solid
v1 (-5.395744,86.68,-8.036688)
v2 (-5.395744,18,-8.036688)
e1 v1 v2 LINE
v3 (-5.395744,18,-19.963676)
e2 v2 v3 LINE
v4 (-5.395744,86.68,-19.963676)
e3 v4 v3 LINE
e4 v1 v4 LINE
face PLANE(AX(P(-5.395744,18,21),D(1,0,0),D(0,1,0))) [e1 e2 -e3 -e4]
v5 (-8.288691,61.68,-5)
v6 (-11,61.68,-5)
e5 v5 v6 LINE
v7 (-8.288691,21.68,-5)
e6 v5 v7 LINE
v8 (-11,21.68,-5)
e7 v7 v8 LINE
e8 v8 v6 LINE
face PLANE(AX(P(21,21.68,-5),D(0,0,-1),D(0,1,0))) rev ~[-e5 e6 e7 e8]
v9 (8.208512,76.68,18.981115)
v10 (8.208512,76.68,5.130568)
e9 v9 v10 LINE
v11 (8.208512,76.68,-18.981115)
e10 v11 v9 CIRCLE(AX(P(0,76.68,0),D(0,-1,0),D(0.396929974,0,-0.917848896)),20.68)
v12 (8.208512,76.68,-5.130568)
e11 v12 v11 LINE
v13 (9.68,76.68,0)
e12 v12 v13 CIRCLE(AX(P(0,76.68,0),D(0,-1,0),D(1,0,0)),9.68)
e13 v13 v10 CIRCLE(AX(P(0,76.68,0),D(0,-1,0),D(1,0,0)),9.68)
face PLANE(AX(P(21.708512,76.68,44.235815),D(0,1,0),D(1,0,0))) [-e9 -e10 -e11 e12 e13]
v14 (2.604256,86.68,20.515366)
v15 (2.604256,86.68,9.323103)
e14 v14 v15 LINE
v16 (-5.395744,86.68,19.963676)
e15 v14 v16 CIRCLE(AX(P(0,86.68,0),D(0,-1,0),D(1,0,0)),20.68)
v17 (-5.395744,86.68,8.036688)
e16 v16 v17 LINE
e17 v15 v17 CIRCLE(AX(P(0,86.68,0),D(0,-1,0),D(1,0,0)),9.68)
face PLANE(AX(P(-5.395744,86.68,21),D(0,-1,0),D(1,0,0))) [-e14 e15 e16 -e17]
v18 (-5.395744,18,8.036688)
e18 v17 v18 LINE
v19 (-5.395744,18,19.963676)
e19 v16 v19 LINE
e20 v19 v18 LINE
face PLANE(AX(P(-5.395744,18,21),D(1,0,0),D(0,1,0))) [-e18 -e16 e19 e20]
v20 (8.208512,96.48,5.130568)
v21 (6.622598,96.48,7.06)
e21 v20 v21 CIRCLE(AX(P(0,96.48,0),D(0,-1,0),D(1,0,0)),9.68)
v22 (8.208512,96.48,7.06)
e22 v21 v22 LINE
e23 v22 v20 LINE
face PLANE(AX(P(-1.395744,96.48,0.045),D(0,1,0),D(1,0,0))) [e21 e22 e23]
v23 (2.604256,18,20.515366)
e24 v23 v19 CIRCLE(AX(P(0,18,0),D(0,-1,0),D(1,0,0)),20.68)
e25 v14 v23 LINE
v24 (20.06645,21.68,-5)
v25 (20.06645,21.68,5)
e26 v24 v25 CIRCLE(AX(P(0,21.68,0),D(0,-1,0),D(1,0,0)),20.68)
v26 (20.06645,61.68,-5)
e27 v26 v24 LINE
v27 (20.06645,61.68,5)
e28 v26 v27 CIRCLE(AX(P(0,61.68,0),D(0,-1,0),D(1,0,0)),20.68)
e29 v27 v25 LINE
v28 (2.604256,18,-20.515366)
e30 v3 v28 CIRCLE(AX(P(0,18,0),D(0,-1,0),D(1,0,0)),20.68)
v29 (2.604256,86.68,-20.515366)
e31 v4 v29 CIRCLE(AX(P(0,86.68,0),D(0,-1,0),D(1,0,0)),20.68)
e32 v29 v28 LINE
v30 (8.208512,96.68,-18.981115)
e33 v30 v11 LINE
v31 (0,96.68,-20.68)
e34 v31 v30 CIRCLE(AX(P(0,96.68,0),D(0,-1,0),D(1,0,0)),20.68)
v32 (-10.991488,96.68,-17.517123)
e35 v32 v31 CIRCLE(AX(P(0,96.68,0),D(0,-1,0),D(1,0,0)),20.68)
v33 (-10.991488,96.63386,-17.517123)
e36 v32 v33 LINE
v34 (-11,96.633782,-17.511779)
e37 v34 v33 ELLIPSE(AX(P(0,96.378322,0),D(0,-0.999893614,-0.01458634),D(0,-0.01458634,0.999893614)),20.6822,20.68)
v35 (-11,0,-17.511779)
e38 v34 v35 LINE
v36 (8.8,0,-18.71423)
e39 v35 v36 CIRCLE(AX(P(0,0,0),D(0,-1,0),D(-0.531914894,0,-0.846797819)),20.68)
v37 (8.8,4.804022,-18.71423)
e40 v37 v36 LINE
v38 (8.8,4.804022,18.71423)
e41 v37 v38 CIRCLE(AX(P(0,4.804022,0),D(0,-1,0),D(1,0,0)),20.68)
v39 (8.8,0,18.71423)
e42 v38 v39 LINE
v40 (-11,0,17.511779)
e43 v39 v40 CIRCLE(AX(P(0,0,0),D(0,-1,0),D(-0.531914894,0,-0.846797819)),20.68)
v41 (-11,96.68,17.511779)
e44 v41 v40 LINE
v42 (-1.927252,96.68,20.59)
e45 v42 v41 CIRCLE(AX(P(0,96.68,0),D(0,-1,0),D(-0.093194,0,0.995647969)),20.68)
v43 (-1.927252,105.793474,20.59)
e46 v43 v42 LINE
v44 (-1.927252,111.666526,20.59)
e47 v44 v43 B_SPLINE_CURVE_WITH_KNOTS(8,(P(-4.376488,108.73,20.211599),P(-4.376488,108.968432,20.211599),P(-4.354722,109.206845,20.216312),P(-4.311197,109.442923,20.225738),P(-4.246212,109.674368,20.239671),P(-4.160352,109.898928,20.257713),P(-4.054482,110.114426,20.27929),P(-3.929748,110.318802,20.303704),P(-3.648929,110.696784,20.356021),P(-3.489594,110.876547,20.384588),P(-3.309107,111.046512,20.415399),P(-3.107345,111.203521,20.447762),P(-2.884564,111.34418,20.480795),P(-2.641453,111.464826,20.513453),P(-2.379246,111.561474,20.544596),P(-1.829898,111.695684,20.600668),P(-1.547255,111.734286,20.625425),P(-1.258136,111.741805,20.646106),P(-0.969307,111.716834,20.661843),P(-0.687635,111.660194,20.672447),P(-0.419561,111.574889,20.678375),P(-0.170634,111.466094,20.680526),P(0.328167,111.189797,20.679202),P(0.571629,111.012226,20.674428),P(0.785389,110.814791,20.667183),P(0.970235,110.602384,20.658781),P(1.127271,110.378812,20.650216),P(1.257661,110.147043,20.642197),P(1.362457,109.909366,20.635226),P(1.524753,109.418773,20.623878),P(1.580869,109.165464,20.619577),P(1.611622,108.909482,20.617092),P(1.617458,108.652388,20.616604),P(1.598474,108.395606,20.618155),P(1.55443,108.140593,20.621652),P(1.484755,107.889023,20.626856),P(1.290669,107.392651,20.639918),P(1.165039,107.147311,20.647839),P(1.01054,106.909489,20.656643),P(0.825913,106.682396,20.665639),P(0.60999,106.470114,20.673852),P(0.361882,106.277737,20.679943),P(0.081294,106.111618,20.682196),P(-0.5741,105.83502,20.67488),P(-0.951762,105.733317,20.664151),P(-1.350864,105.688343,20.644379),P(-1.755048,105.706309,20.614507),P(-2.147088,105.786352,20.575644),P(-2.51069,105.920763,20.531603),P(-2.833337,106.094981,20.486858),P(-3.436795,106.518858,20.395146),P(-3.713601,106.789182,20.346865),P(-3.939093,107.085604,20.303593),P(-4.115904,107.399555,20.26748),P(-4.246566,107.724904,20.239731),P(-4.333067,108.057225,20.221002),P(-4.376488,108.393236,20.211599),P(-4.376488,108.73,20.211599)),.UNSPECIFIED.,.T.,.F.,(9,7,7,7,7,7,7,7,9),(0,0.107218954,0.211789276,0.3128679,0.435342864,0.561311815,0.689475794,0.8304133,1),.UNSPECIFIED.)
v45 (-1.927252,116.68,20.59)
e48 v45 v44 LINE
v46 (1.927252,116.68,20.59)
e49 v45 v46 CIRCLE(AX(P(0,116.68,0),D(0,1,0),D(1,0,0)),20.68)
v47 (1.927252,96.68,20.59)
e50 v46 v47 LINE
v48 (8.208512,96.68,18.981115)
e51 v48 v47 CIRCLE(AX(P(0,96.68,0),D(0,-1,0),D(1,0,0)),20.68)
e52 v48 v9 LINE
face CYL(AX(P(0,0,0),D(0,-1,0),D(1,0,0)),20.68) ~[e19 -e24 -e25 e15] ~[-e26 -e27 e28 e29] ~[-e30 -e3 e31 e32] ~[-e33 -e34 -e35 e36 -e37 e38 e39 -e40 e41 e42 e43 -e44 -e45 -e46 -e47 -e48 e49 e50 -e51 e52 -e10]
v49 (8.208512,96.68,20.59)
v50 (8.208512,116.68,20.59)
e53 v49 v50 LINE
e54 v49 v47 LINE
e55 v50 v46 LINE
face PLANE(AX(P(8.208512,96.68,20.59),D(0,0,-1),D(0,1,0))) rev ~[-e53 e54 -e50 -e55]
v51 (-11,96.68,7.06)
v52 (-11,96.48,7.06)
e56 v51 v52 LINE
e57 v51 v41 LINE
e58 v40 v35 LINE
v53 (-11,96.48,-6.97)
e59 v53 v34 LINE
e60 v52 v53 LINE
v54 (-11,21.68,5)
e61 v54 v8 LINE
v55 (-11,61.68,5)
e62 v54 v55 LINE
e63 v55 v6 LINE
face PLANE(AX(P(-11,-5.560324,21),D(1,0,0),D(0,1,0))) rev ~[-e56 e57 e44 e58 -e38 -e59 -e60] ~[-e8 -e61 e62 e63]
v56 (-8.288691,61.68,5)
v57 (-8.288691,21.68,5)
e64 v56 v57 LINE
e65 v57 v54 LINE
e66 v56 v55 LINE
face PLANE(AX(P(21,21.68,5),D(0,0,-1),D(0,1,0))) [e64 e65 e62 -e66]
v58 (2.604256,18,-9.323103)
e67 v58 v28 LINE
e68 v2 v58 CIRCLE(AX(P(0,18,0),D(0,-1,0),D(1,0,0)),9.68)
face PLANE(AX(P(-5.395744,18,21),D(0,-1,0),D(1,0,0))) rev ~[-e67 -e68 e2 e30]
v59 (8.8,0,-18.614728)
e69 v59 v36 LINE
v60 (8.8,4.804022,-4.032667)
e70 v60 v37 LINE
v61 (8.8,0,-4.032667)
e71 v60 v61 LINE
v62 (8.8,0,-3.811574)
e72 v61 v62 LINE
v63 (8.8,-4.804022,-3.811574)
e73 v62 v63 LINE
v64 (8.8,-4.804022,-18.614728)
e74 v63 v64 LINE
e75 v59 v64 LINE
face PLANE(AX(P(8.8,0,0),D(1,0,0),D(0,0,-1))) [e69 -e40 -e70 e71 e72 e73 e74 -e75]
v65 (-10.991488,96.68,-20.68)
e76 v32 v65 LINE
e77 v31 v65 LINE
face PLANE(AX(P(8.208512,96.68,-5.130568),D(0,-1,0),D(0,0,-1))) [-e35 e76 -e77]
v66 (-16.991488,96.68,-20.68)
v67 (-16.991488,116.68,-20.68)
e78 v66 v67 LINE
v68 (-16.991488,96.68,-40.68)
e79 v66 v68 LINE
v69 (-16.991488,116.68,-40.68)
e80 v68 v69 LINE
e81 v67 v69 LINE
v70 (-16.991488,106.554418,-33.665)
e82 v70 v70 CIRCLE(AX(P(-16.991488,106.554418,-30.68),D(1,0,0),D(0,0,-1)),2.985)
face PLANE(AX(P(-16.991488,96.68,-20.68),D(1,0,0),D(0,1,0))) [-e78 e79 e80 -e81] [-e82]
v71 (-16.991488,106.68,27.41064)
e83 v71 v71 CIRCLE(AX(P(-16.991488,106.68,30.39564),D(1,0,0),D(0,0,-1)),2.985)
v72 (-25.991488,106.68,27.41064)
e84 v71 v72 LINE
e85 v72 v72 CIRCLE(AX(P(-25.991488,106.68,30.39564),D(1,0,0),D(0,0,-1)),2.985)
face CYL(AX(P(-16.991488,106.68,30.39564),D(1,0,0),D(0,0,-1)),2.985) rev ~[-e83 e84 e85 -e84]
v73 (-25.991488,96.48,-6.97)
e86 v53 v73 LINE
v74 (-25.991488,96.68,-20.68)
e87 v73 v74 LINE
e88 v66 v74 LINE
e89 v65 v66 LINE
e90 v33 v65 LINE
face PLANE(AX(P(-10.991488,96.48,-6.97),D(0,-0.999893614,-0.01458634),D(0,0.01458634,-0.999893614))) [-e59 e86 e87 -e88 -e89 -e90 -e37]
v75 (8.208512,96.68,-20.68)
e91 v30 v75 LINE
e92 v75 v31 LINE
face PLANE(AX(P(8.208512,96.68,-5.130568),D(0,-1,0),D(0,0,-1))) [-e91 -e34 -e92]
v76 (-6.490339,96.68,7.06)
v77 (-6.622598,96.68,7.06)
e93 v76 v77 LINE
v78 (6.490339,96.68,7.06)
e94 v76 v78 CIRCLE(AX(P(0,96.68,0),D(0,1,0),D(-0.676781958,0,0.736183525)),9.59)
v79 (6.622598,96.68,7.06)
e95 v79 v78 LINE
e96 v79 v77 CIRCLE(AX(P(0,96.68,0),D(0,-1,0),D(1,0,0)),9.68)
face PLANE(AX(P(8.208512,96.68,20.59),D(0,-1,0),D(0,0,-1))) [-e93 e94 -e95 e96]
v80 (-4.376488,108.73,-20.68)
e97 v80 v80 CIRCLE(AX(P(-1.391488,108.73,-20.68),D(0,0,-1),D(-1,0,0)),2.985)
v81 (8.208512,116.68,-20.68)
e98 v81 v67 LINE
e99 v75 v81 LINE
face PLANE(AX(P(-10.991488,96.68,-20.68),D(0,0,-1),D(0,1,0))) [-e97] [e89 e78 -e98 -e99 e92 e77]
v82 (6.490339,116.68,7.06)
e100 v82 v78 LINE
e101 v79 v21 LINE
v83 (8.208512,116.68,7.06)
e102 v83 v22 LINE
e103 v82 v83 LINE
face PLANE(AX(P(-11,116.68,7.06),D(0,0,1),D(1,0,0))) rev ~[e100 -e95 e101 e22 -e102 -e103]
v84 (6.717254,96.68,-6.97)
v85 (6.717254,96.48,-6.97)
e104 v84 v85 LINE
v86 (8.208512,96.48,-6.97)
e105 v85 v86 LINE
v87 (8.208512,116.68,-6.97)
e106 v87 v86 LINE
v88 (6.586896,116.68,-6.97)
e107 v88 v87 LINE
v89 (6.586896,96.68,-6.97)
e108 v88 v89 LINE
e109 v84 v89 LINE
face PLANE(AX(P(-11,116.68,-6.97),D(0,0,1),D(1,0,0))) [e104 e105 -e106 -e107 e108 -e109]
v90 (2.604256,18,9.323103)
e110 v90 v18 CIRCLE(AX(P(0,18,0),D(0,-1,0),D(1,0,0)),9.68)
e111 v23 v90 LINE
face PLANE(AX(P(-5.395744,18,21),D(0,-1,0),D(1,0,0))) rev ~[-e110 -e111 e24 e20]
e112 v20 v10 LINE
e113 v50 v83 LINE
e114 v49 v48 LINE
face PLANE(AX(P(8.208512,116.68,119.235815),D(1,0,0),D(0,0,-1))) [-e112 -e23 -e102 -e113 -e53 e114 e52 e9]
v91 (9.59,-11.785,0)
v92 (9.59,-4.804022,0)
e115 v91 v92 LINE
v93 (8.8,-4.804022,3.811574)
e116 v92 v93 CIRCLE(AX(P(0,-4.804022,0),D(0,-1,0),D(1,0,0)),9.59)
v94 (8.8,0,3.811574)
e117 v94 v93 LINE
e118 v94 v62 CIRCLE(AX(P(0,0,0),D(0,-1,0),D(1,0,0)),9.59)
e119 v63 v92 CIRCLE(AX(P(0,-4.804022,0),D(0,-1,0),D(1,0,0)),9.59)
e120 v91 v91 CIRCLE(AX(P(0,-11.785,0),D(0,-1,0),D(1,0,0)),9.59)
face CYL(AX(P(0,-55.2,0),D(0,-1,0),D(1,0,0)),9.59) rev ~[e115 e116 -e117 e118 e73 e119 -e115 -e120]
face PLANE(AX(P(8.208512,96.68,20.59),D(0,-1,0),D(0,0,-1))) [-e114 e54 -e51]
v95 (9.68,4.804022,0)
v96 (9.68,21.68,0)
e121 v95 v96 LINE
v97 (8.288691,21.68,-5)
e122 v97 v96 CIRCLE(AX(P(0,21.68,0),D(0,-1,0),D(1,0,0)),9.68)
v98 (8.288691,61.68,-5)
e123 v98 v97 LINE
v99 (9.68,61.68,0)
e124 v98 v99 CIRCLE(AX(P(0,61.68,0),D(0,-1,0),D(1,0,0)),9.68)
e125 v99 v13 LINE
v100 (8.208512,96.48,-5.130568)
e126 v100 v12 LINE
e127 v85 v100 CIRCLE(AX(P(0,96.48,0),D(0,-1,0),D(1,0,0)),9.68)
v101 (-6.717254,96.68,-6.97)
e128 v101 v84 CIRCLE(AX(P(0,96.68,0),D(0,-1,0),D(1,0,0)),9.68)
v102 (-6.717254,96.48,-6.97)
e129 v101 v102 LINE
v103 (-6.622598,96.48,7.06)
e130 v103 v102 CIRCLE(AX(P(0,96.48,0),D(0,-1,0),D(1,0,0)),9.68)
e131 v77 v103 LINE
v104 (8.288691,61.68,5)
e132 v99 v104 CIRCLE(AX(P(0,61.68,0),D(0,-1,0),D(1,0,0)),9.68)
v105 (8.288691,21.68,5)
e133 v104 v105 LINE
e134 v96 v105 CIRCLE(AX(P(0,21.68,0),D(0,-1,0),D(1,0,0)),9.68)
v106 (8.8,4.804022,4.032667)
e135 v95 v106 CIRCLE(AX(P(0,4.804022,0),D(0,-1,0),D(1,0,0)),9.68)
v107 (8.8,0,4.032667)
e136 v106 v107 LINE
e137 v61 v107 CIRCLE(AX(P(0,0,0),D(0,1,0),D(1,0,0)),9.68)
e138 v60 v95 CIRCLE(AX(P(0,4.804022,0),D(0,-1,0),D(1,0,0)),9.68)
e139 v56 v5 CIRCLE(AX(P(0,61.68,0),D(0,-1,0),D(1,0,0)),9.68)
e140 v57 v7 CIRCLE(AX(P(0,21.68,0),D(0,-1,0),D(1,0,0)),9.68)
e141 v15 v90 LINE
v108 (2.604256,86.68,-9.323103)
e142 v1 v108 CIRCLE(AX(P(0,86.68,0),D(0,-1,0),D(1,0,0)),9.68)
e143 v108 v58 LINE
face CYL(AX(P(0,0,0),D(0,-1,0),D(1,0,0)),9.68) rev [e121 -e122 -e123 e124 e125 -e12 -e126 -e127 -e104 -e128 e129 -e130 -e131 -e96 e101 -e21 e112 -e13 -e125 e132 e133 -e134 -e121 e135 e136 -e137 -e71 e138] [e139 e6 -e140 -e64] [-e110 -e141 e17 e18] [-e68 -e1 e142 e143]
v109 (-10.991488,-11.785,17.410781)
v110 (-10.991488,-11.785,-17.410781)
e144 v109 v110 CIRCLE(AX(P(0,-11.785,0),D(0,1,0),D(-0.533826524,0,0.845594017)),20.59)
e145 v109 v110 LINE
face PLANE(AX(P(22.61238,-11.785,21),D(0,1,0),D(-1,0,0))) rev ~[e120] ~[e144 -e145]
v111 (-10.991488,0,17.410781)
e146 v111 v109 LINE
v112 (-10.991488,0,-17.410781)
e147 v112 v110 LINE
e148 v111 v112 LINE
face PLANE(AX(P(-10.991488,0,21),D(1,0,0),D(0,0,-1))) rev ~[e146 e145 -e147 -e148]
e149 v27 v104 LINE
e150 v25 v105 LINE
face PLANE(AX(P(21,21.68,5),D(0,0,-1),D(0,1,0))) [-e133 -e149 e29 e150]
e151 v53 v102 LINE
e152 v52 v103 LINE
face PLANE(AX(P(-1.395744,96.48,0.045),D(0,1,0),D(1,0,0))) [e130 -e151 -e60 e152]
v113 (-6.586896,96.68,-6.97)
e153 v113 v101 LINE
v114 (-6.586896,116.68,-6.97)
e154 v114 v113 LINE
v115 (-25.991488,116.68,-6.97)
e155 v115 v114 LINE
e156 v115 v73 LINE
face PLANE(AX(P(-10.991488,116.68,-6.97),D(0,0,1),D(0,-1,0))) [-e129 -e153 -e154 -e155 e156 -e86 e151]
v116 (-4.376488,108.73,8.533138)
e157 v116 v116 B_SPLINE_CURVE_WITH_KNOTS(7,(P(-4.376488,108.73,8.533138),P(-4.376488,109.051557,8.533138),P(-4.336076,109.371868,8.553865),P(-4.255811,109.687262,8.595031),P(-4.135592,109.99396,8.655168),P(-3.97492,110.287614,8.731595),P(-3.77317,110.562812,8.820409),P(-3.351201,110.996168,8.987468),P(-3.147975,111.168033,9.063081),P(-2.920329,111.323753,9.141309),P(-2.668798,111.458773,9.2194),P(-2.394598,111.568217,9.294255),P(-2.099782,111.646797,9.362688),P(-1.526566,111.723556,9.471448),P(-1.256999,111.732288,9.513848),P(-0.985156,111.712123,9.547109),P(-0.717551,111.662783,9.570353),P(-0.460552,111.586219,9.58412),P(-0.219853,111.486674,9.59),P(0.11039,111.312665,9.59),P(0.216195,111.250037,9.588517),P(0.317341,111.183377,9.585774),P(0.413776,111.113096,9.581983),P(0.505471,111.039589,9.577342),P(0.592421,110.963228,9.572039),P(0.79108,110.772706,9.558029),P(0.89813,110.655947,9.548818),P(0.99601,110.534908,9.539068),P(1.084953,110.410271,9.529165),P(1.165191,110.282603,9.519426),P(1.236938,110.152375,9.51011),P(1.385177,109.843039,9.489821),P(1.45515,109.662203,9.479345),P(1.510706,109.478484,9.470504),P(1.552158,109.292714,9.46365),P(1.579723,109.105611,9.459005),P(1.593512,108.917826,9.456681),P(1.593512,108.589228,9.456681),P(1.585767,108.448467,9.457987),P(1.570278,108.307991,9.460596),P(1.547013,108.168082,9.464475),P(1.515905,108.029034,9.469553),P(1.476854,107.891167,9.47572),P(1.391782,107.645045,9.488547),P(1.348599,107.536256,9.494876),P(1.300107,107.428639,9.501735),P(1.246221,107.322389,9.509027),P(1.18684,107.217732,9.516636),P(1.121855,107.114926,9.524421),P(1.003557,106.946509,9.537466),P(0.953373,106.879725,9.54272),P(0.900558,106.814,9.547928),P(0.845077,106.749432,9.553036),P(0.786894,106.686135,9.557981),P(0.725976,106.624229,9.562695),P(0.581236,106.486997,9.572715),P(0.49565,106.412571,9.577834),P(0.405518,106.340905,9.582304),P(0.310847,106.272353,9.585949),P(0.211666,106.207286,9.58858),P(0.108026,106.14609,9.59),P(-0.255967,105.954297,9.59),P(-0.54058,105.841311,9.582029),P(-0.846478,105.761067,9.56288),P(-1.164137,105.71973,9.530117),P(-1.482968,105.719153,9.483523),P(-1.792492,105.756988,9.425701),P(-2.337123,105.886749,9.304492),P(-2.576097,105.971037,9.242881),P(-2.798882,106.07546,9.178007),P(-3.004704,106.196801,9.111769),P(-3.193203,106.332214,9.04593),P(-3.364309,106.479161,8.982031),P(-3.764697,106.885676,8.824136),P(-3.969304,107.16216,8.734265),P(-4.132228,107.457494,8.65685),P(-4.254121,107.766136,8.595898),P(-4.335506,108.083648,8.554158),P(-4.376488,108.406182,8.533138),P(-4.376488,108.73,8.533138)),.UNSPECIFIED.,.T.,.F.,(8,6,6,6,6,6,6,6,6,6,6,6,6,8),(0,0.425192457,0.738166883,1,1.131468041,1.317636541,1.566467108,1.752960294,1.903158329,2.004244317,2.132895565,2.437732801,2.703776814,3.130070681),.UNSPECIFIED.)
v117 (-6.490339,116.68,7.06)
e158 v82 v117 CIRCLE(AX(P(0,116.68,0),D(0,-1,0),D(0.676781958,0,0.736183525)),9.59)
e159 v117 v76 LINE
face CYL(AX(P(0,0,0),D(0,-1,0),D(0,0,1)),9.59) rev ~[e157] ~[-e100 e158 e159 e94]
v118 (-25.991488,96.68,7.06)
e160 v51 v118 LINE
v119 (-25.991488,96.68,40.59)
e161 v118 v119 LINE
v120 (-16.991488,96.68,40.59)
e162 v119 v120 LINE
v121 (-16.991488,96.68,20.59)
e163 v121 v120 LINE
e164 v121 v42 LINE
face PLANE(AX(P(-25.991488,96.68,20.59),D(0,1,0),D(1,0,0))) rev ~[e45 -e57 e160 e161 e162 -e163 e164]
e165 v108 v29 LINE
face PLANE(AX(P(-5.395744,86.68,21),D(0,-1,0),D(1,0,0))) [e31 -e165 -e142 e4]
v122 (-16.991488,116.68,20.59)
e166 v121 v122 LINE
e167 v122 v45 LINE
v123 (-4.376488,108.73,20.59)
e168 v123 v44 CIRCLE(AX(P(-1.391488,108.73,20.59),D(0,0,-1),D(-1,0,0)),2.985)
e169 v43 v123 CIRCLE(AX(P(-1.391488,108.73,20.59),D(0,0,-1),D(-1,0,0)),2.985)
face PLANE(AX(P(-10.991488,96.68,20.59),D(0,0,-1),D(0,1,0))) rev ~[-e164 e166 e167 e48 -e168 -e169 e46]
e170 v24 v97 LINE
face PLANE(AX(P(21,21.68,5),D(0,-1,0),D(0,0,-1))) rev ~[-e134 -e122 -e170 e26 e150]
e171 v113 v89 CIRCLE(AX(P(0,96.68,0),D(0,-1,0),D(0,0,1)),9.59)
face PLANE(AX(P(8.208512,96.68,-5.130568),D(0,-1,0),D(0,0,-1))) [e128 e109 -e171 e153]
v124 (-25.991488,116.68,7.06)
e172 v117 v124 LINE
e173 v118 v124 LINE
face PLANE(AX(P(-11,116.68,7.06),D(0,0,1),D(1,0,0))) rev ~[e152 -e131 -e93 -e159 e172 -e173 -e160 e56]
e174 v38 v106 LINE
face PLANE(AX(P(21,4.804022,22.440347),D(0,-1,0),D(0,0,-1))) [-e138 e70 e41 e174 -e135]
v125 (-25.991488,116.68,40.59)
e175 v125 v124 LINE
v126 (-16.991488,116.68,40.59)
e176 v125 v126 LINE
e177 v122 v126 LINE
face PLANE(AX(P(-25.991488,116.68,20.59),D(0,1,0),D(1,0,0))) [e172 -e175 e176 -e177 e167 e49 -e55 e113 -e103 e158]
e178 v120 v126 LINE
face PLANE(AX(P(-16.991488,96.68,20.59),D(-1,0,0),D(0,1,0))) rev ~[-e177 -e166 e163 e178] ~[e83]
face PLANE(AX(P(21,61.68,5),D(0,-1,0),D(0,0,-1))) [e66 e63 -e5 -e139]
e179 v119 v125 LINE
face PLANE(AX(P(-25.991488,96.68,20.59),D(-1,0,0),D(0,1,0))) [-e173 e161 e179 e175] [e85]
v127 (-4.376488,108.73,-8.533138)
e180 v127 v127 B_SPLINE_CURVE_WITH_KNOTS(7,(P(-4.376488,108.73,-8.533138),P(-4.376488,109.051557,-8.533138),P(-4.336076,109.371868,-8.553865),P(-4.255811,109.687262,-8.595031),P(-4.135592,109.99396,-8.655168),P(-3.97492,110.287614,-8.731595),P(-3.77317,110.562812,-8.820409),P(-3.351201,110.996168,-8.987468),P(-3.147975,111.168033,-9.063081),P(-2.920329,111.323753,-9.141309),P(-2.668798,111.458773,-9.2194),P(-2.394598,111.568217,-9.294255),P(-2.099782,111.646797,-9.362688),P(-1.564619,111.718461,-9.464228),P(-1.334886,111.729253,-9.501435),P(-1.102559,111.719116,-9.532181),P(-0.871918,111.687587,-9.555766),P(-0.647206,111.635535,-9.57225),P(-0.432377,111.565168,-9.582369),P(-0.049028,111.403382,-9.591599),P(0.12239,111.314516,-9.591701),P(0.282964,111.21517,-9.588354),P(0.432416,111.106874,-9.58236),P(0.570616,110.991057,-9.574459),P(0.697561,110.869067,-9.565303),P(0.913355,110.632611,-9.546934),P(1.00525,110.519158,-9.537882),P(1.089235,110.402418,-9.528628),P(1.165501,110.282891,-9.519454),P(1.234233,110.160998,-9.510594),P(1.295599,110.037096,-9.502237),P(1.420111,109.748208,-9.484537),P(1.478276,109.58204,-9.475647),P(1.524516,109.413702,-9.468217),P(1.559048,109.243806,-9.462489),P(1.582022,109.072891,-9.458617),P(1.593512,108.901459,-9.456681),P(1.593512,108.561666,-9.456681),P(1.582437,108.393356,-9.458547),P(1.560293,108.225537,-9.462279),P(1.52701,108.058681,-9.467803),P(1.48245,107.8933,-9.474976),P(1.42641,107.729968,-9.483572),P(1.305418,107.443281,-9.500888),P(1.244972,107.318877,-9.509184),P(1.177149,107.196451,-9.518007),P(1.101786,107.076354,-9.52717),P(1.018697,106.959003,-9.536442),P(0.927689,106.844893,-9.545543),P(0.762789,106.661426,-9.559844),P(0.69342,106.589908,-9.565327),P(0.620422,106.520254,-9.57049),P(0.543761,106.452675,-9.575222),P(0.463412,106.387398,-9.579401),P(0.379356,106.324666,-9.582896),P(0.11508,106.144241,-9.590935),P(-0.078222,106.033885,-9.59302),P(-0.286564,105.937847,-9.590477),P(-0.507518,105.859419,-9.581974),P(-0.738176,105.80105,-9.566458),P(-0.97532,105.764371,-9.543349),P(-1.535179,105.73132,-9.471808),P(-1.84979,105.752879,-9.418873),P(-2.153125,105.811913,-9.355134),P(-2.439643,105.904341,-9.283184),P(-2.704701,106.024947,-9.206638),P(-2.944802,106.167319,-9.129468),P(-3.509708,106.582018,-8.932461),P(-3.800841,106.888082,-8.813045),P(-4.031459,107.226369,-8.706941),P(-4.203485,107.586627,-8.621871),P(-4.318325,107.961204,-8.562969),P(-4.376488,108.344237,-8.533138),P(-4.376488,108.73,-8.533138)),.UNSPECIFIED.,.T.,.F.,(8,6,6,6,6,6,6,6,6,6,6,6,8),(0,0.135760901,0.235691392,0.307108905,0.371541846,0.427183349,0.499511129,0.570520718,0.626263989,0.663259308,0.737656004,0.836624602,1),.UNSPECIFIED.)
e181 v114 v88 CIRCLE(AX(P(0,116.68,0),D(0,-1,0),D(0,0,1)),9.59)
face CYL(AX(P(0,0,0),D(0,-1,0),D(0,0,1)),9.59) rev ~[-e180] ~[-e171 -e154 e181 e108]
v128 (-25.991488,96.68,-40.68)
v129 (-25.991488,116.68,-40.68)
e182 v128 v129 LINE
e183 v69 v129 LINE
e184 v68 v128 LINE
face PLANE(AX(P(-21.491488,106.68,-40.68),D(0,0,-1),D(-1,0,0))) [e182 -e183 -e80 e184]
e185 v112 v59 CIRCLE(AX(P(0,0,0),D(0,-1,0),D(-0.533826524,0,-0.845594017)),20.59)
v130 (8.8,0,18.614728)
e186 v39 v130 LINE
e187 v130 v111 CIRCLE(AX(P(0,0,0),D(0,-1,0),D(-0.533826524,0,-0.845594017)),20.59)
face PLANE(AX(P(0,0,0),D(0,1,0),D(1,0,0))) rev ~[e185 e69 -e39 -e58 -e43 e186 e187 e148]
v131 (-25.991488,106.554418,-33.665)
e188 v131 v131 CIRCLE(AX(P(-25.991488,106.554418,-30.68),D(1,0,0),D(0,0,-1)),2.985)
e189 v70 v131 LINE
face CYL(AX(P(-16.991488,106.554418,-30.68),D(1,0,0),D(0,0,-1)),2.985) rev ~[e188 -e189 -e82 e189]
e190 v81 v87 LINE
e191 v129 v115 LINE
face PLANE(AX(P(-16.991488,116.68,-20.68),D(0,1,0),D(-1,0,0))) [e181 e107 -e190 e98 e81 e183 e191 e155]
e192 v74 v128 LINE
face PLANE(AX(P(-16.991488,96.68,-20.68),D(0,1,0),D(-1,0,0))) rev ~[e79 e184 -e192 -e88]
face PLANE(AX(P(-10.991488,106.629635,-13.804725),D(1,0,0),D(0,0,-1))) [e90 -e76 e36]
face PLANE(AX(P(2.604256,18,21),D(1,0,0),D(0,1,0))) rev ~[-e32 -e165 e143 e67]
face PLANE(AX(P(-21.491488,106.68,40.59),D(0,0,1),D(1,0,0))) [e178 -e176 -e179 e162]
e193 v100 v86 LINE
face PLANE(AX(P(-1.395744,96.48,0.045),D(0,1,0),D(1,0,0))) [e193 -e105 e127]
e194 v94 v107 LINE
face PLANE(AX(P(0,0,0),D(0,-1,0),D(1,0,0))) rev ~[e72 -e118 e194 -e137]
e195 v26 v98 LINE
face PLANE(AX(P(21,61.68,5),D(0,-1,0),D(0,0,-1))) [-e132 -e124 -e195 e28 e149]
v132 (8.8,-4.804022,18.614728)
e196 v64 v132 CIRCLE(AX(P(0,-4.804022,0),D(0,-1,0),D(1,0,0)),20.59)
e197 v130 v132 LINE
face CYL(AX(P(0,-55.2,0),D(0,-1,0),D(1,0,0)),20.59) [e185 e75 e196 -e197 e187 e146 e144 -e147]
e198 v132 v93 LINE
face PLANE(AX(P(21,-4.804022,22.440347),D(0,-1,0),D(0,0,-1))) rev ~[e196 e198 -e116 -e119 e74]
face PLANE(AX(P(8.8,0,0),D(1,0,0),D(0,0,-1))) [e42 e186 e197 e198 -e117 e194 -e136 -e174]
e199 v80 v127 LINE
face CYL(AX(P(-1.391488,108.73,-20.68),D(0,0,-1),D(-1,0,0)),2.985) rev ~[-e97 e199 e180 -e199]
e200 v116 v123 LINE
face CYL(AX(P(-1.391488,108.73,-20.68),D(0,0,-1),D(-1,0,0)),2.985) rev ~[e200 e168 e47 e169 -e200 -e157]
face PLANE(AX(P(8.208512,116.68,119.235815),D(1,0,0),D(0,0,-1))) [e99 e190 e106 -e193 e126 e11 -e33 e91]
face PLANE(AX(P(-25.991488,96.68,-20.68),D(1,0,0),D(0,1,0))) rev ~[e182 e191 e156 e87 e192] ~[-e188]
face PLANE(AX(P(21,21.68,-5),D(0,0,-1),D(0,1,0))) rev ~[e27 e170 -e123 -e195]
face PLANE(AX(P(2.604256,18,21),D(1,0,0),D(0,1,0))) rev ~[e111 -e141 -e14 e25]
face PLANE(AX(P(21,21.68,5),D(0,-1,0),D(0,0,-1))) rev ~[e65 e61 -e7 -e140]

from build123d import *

# Parameters (mm, degrees)
SKETCH_1_R           = 20.68
SKETCH_1_R_2         = 9.68
EXTRUDE_1_DEPTH      = 116.68
SKETCH_11_W          = 27
SKETCH_11_H          = 150
CUT_EXTRUDE_3_DEPTH  = 40
SKETCH_13_W          = 10
SKETCH_13_H          = 128.345013401
CUT_EXTRUDE_7_DEPTH  = 126.614916312
SKETCH_15_W          = 8
SKETCH_15_H          = 68.68
CUT_EXTRUDE_9_DEPTH  = 48
SKETCH_16_W          = 15.549431524
SKETCH_16_H          = 20
SKETCH_16_W_2        = 15.459431524
EXTRUDE_4_DEPTH      = 19.2
SKETCH_17_W          = 19.20851187
SKETCH_17_H          = 14.03
CUT_EXTRUDE_10_DEPTH = 20.2
SKETCH_18_R          = 9.59
CUT_EXTRUDE_11_DEPTH = 121.289430957
SKETCH_21_R          = 2.985
CUT_EXTRUDE_12_DEPTH = 55.2
EXTRUDE_START        = 55.2
SKETCH_24_R          = 20.59
SKETCH_24_R_2        = 9.59
EXTRUDE_2_DEPTH      = 55.2
CUT_EXTRUDE_13_DEPTH = 55.2
SKETCH_26_W          = 10.00851187
SKETCH_26_H          = 41.68
CUT_EXTRUDE_15_DEPTH = 55.2
SKETCH_27_W          = 10
SKETCH_27_H          = 40
CUT_EXTRUDE_16_DEPTH = 55.2
SKETCH_28_W          = 44.880694938
SKETCH_28_H          = 9.608044066
CUT_EXTRUDE_17_DEPTH = 12.2
SKETCH_35_W          = 13.53
SKETCH_35_H          = 20
EXTRUDE_10_DEPTH     = 15
EXTRUDE_11_DEPTH     = 15
SKETCH_37_W          = 9
SKETCH_37_H          = 20
EXTRUDE_12_DEPTH     = 20
SKETCH_38_W          = 9
SKETCH_38_H          = 20
EXTRUDE_13_DEPTH     = 20
SKETCH_42_R          = 2.985
CUT_EXTRUDE_21_DEPTH = 20


with BuildPart() as part:
    # 草圖1 → 伸長-薄件1 (new body)
    with BuildSketch(Plane(origin=(0, 0, 0), x_dir=(1, 0, 0), z_dir=(0, 1, 0))):
        Circle(SKETCH_1_R)
        Circle(SKETCH_1_R_2, mode=Mode.SUBTRACT)
    extrude(amount=EXTRUDE_1_DEPTH)

    # 草圖11 → 除料-伸長3 (cut)
    with BuildSketch(Plane(origin=(0, 116.68, 0), x_dir=(1, 0, 0), z_dir=(0, 1, 0))):
        with Locations((21.70851187, -44.235815192)):
            Rectangle(SKETCH_11_W, SKETCH_11_H)
    extrude(amount=-CUT_EXTRUDE_3_DEPTH, mode=Mode.SUBTRACT)

    # 草圖13 → 除料-伸長7 (cut, through all)
    with BuildSketch(Plane.XY.offset(21)):
        with Locations((-16, 58.612182466)):
            Rectangle(SKETCH_13_W, SKETCH_13_H)
    extrude(amount=-CUT_EXTRUDE_7_DEPTH, mode=Mode.SUBTRACT)

    # 草圖15 → 除料-伸長9 (cut)
    with BuildSketch(Plane.XY.offset(21)):
        with Locations((-1.395744065, 52.34)):
            Rectangle(SKETCH_15_W, SKETCH_15_H)
    extrude(amount=-CUT_EXTRUDE_9_DEPTH, mode=Mode.SUBTRACT)

    # 草圖16 → 填料-伸長4 (add)
    with BuildSketch(Plane(origin=(8.20851187, 0, 0), x_dir=(0, 0, -1), z_dir=(1, 0, 0))):
        with Locations((12.905284238, 106.68)):
            Rectangle(SKETCH_16_W, SKETCH_16_H)
        with Locations((-12.860284238, 106.68)):
            Rectangle(SKETCH_16_W_2, SKETCH_16_H)
    extrude(amount=-EXTRUDE_4_DEPTH)

    # 草圖17 → 除料-伸長10 (cut)
    with BuildSketch(Plane(origin=(0, 116.68, 0), x_dir=(1, 0, 0), z_dir=(0, 1, 0))):
        with Locations((-1.395744065, -0.045)):
            Rectangle(SKETCH_17_W, SKETCH_17_H)
    extrude(amount=-CUT_EXTRUDE_10_DEPTH, mode=Mode.SUBTRACT)

    # 草圖18 → 除料-伸長11 (cut, through all)
    with BuildSketch(Plane.XZ):
        with Locations(Location((0, 0, 0), (0, 0, 90))):
            Circle(SKETCH_18_R)
    extrude(amount=-CUT_EXTRUDE_11_DEPTH, mode=Mode.SUBTRACT)

    # 草圖21 → 除料-伸長12 (cut)
    with BuildSketch(Plane(origin=(0, 0, -20.68), x_dir=(-1, 0, 0), z_dir=(0, 0, -1))):
        with Locations((1.39148813, 108.73)):
            Circle(SKETCH_21_R)
    extrude(amount=-CUT_EXTRUDE_12_DEPTH, mode=Mode.SUBTRACT)

    # 草圖24 → 伸長-薄件2 (add)
    with BuildSketch(Plane.XZ.offset(EXTRUDE_START)):
        Circle(SKETCH_24_R)
        Circle(SKETCH_24_R_2, mode=Mode.SUBTRACT)
    extrude(amount=-EXTRUDE_2_DEPTH)

    # 草圖25 → 除料-伸長13 (cut)
    with BuildSketch(Plane.XY.offset(21)):
        Polygon((-1.39148813, -11.785), (22.612379708, -11.785), (22.612379708, -63.873337429), (-22.749525245, -63.873337429), (-22.749525245, -11.785), align=None)
    extrude(amount=-CUT_EXTRUDE_13_DEPTH, mode=Mode.SUBTRACT)

    # 草圖26 → 除料-伸長15 (cut)
    with BuildSketch(Plane(origin=(0, 0, 0), x_dir=(1, 0, 0), z_dir=(0, 1, 0))):
        with Locations((-15.995744065, -0.16)):
            Rectangle(SKETCH_26_W, SKETCH_26_H)
    extrude(amount=-CUT_EXTRUDE_15_DEPTH, mode=Mode.SUBTRACT)

    # 草圖27 → 除料-伸長16 (cut)
    with BuildSketch(Plane(origin=(21, 0, 0), x_dir=(0, 0, -1), z_dir=(1, 0, 0))):
        with Locations((0, 41.68)):
            Rectangle(SKETCH_27_W, SKETCH_27_H)
    extrude(amount=-CUT_EXTRUDE_16_DEPTH, mode=Mode.SUBTRACT)

    # 草圖28 → 除料-伸長17 (cut)
    with BuildSketch(Plane(origin=(21, 0, 0), x_dir=(0, 0, -1), z_dir=(1, 0, 0))):
        Rectangle(SKETCH_28_W, SKETCH_28_H)
    extrude(amount=-CUT_EXTRUDE_17_DEPTH, mode=Mode.SUBTRACT)

    # 草圖35 → 填料-伸長10 (add)
    with BuildSketch(Plane.ZY.offset(10.99148813)):
        with Locations((13.825, 106.68)):
            Rectangle(SKETCH_35_W, SKETCH_35_H)
    extrude(amount=EXTRUDE_10_DEPTH)

    # 草圖36 → 填料-伸長11 (add)
    with BuildSketch(Plane.ZY.offset(10.99148813)):
        Polygon((-20.68, 116.68), (-6.97, 116.68), (-6.97, 96.48), (-20.68, 96.68), align=None)
    extrude(amount=EXTRUDE_11_DEPTH)

    # 草圖37 → 填料-伸長12 (add)
    with BuildSketch(Plane.XY.offset(20.59)):
        with Locations((-21.49148813, 106.68)):
            Rectangle(SKETCH_37_W, SKETCH_37_H)
    extrude(amount=EXTRUDE_12_DEPTH)

    # 草圖38 → 填料-伸長13 (add)
    with BuildSketch(Plane(origin=(0, 0, -20.68), x_dir=(-1, 0, 0), z_dir=(0, 0, -1))):
        with Locations((21.49148813, 106.68)):
            Rectangle(SKETCH_38_W, SKETCH_38_H)
    extrude(amount=EXTRUDE_13_DEPTH)

    # 草圖42 → 除料-伸長21 (cut)
    with BuildSketch(Plane(origin=(-16.99148813, 0, 0), x_dir=(0, 0, -1), z_dir=(1, 0, 0))):
        with Locations((30.68, 106.554418142)):
            Circle(SKETCH_42_R)
        with Locations((-30.395640125, 106.68)):
            Circle(SKETCH_42_R)
    extrude(amount=-CUT_EXTRUDE_21_DEPTH, mode=Mode.SUBTRACT)


solid = part.part
